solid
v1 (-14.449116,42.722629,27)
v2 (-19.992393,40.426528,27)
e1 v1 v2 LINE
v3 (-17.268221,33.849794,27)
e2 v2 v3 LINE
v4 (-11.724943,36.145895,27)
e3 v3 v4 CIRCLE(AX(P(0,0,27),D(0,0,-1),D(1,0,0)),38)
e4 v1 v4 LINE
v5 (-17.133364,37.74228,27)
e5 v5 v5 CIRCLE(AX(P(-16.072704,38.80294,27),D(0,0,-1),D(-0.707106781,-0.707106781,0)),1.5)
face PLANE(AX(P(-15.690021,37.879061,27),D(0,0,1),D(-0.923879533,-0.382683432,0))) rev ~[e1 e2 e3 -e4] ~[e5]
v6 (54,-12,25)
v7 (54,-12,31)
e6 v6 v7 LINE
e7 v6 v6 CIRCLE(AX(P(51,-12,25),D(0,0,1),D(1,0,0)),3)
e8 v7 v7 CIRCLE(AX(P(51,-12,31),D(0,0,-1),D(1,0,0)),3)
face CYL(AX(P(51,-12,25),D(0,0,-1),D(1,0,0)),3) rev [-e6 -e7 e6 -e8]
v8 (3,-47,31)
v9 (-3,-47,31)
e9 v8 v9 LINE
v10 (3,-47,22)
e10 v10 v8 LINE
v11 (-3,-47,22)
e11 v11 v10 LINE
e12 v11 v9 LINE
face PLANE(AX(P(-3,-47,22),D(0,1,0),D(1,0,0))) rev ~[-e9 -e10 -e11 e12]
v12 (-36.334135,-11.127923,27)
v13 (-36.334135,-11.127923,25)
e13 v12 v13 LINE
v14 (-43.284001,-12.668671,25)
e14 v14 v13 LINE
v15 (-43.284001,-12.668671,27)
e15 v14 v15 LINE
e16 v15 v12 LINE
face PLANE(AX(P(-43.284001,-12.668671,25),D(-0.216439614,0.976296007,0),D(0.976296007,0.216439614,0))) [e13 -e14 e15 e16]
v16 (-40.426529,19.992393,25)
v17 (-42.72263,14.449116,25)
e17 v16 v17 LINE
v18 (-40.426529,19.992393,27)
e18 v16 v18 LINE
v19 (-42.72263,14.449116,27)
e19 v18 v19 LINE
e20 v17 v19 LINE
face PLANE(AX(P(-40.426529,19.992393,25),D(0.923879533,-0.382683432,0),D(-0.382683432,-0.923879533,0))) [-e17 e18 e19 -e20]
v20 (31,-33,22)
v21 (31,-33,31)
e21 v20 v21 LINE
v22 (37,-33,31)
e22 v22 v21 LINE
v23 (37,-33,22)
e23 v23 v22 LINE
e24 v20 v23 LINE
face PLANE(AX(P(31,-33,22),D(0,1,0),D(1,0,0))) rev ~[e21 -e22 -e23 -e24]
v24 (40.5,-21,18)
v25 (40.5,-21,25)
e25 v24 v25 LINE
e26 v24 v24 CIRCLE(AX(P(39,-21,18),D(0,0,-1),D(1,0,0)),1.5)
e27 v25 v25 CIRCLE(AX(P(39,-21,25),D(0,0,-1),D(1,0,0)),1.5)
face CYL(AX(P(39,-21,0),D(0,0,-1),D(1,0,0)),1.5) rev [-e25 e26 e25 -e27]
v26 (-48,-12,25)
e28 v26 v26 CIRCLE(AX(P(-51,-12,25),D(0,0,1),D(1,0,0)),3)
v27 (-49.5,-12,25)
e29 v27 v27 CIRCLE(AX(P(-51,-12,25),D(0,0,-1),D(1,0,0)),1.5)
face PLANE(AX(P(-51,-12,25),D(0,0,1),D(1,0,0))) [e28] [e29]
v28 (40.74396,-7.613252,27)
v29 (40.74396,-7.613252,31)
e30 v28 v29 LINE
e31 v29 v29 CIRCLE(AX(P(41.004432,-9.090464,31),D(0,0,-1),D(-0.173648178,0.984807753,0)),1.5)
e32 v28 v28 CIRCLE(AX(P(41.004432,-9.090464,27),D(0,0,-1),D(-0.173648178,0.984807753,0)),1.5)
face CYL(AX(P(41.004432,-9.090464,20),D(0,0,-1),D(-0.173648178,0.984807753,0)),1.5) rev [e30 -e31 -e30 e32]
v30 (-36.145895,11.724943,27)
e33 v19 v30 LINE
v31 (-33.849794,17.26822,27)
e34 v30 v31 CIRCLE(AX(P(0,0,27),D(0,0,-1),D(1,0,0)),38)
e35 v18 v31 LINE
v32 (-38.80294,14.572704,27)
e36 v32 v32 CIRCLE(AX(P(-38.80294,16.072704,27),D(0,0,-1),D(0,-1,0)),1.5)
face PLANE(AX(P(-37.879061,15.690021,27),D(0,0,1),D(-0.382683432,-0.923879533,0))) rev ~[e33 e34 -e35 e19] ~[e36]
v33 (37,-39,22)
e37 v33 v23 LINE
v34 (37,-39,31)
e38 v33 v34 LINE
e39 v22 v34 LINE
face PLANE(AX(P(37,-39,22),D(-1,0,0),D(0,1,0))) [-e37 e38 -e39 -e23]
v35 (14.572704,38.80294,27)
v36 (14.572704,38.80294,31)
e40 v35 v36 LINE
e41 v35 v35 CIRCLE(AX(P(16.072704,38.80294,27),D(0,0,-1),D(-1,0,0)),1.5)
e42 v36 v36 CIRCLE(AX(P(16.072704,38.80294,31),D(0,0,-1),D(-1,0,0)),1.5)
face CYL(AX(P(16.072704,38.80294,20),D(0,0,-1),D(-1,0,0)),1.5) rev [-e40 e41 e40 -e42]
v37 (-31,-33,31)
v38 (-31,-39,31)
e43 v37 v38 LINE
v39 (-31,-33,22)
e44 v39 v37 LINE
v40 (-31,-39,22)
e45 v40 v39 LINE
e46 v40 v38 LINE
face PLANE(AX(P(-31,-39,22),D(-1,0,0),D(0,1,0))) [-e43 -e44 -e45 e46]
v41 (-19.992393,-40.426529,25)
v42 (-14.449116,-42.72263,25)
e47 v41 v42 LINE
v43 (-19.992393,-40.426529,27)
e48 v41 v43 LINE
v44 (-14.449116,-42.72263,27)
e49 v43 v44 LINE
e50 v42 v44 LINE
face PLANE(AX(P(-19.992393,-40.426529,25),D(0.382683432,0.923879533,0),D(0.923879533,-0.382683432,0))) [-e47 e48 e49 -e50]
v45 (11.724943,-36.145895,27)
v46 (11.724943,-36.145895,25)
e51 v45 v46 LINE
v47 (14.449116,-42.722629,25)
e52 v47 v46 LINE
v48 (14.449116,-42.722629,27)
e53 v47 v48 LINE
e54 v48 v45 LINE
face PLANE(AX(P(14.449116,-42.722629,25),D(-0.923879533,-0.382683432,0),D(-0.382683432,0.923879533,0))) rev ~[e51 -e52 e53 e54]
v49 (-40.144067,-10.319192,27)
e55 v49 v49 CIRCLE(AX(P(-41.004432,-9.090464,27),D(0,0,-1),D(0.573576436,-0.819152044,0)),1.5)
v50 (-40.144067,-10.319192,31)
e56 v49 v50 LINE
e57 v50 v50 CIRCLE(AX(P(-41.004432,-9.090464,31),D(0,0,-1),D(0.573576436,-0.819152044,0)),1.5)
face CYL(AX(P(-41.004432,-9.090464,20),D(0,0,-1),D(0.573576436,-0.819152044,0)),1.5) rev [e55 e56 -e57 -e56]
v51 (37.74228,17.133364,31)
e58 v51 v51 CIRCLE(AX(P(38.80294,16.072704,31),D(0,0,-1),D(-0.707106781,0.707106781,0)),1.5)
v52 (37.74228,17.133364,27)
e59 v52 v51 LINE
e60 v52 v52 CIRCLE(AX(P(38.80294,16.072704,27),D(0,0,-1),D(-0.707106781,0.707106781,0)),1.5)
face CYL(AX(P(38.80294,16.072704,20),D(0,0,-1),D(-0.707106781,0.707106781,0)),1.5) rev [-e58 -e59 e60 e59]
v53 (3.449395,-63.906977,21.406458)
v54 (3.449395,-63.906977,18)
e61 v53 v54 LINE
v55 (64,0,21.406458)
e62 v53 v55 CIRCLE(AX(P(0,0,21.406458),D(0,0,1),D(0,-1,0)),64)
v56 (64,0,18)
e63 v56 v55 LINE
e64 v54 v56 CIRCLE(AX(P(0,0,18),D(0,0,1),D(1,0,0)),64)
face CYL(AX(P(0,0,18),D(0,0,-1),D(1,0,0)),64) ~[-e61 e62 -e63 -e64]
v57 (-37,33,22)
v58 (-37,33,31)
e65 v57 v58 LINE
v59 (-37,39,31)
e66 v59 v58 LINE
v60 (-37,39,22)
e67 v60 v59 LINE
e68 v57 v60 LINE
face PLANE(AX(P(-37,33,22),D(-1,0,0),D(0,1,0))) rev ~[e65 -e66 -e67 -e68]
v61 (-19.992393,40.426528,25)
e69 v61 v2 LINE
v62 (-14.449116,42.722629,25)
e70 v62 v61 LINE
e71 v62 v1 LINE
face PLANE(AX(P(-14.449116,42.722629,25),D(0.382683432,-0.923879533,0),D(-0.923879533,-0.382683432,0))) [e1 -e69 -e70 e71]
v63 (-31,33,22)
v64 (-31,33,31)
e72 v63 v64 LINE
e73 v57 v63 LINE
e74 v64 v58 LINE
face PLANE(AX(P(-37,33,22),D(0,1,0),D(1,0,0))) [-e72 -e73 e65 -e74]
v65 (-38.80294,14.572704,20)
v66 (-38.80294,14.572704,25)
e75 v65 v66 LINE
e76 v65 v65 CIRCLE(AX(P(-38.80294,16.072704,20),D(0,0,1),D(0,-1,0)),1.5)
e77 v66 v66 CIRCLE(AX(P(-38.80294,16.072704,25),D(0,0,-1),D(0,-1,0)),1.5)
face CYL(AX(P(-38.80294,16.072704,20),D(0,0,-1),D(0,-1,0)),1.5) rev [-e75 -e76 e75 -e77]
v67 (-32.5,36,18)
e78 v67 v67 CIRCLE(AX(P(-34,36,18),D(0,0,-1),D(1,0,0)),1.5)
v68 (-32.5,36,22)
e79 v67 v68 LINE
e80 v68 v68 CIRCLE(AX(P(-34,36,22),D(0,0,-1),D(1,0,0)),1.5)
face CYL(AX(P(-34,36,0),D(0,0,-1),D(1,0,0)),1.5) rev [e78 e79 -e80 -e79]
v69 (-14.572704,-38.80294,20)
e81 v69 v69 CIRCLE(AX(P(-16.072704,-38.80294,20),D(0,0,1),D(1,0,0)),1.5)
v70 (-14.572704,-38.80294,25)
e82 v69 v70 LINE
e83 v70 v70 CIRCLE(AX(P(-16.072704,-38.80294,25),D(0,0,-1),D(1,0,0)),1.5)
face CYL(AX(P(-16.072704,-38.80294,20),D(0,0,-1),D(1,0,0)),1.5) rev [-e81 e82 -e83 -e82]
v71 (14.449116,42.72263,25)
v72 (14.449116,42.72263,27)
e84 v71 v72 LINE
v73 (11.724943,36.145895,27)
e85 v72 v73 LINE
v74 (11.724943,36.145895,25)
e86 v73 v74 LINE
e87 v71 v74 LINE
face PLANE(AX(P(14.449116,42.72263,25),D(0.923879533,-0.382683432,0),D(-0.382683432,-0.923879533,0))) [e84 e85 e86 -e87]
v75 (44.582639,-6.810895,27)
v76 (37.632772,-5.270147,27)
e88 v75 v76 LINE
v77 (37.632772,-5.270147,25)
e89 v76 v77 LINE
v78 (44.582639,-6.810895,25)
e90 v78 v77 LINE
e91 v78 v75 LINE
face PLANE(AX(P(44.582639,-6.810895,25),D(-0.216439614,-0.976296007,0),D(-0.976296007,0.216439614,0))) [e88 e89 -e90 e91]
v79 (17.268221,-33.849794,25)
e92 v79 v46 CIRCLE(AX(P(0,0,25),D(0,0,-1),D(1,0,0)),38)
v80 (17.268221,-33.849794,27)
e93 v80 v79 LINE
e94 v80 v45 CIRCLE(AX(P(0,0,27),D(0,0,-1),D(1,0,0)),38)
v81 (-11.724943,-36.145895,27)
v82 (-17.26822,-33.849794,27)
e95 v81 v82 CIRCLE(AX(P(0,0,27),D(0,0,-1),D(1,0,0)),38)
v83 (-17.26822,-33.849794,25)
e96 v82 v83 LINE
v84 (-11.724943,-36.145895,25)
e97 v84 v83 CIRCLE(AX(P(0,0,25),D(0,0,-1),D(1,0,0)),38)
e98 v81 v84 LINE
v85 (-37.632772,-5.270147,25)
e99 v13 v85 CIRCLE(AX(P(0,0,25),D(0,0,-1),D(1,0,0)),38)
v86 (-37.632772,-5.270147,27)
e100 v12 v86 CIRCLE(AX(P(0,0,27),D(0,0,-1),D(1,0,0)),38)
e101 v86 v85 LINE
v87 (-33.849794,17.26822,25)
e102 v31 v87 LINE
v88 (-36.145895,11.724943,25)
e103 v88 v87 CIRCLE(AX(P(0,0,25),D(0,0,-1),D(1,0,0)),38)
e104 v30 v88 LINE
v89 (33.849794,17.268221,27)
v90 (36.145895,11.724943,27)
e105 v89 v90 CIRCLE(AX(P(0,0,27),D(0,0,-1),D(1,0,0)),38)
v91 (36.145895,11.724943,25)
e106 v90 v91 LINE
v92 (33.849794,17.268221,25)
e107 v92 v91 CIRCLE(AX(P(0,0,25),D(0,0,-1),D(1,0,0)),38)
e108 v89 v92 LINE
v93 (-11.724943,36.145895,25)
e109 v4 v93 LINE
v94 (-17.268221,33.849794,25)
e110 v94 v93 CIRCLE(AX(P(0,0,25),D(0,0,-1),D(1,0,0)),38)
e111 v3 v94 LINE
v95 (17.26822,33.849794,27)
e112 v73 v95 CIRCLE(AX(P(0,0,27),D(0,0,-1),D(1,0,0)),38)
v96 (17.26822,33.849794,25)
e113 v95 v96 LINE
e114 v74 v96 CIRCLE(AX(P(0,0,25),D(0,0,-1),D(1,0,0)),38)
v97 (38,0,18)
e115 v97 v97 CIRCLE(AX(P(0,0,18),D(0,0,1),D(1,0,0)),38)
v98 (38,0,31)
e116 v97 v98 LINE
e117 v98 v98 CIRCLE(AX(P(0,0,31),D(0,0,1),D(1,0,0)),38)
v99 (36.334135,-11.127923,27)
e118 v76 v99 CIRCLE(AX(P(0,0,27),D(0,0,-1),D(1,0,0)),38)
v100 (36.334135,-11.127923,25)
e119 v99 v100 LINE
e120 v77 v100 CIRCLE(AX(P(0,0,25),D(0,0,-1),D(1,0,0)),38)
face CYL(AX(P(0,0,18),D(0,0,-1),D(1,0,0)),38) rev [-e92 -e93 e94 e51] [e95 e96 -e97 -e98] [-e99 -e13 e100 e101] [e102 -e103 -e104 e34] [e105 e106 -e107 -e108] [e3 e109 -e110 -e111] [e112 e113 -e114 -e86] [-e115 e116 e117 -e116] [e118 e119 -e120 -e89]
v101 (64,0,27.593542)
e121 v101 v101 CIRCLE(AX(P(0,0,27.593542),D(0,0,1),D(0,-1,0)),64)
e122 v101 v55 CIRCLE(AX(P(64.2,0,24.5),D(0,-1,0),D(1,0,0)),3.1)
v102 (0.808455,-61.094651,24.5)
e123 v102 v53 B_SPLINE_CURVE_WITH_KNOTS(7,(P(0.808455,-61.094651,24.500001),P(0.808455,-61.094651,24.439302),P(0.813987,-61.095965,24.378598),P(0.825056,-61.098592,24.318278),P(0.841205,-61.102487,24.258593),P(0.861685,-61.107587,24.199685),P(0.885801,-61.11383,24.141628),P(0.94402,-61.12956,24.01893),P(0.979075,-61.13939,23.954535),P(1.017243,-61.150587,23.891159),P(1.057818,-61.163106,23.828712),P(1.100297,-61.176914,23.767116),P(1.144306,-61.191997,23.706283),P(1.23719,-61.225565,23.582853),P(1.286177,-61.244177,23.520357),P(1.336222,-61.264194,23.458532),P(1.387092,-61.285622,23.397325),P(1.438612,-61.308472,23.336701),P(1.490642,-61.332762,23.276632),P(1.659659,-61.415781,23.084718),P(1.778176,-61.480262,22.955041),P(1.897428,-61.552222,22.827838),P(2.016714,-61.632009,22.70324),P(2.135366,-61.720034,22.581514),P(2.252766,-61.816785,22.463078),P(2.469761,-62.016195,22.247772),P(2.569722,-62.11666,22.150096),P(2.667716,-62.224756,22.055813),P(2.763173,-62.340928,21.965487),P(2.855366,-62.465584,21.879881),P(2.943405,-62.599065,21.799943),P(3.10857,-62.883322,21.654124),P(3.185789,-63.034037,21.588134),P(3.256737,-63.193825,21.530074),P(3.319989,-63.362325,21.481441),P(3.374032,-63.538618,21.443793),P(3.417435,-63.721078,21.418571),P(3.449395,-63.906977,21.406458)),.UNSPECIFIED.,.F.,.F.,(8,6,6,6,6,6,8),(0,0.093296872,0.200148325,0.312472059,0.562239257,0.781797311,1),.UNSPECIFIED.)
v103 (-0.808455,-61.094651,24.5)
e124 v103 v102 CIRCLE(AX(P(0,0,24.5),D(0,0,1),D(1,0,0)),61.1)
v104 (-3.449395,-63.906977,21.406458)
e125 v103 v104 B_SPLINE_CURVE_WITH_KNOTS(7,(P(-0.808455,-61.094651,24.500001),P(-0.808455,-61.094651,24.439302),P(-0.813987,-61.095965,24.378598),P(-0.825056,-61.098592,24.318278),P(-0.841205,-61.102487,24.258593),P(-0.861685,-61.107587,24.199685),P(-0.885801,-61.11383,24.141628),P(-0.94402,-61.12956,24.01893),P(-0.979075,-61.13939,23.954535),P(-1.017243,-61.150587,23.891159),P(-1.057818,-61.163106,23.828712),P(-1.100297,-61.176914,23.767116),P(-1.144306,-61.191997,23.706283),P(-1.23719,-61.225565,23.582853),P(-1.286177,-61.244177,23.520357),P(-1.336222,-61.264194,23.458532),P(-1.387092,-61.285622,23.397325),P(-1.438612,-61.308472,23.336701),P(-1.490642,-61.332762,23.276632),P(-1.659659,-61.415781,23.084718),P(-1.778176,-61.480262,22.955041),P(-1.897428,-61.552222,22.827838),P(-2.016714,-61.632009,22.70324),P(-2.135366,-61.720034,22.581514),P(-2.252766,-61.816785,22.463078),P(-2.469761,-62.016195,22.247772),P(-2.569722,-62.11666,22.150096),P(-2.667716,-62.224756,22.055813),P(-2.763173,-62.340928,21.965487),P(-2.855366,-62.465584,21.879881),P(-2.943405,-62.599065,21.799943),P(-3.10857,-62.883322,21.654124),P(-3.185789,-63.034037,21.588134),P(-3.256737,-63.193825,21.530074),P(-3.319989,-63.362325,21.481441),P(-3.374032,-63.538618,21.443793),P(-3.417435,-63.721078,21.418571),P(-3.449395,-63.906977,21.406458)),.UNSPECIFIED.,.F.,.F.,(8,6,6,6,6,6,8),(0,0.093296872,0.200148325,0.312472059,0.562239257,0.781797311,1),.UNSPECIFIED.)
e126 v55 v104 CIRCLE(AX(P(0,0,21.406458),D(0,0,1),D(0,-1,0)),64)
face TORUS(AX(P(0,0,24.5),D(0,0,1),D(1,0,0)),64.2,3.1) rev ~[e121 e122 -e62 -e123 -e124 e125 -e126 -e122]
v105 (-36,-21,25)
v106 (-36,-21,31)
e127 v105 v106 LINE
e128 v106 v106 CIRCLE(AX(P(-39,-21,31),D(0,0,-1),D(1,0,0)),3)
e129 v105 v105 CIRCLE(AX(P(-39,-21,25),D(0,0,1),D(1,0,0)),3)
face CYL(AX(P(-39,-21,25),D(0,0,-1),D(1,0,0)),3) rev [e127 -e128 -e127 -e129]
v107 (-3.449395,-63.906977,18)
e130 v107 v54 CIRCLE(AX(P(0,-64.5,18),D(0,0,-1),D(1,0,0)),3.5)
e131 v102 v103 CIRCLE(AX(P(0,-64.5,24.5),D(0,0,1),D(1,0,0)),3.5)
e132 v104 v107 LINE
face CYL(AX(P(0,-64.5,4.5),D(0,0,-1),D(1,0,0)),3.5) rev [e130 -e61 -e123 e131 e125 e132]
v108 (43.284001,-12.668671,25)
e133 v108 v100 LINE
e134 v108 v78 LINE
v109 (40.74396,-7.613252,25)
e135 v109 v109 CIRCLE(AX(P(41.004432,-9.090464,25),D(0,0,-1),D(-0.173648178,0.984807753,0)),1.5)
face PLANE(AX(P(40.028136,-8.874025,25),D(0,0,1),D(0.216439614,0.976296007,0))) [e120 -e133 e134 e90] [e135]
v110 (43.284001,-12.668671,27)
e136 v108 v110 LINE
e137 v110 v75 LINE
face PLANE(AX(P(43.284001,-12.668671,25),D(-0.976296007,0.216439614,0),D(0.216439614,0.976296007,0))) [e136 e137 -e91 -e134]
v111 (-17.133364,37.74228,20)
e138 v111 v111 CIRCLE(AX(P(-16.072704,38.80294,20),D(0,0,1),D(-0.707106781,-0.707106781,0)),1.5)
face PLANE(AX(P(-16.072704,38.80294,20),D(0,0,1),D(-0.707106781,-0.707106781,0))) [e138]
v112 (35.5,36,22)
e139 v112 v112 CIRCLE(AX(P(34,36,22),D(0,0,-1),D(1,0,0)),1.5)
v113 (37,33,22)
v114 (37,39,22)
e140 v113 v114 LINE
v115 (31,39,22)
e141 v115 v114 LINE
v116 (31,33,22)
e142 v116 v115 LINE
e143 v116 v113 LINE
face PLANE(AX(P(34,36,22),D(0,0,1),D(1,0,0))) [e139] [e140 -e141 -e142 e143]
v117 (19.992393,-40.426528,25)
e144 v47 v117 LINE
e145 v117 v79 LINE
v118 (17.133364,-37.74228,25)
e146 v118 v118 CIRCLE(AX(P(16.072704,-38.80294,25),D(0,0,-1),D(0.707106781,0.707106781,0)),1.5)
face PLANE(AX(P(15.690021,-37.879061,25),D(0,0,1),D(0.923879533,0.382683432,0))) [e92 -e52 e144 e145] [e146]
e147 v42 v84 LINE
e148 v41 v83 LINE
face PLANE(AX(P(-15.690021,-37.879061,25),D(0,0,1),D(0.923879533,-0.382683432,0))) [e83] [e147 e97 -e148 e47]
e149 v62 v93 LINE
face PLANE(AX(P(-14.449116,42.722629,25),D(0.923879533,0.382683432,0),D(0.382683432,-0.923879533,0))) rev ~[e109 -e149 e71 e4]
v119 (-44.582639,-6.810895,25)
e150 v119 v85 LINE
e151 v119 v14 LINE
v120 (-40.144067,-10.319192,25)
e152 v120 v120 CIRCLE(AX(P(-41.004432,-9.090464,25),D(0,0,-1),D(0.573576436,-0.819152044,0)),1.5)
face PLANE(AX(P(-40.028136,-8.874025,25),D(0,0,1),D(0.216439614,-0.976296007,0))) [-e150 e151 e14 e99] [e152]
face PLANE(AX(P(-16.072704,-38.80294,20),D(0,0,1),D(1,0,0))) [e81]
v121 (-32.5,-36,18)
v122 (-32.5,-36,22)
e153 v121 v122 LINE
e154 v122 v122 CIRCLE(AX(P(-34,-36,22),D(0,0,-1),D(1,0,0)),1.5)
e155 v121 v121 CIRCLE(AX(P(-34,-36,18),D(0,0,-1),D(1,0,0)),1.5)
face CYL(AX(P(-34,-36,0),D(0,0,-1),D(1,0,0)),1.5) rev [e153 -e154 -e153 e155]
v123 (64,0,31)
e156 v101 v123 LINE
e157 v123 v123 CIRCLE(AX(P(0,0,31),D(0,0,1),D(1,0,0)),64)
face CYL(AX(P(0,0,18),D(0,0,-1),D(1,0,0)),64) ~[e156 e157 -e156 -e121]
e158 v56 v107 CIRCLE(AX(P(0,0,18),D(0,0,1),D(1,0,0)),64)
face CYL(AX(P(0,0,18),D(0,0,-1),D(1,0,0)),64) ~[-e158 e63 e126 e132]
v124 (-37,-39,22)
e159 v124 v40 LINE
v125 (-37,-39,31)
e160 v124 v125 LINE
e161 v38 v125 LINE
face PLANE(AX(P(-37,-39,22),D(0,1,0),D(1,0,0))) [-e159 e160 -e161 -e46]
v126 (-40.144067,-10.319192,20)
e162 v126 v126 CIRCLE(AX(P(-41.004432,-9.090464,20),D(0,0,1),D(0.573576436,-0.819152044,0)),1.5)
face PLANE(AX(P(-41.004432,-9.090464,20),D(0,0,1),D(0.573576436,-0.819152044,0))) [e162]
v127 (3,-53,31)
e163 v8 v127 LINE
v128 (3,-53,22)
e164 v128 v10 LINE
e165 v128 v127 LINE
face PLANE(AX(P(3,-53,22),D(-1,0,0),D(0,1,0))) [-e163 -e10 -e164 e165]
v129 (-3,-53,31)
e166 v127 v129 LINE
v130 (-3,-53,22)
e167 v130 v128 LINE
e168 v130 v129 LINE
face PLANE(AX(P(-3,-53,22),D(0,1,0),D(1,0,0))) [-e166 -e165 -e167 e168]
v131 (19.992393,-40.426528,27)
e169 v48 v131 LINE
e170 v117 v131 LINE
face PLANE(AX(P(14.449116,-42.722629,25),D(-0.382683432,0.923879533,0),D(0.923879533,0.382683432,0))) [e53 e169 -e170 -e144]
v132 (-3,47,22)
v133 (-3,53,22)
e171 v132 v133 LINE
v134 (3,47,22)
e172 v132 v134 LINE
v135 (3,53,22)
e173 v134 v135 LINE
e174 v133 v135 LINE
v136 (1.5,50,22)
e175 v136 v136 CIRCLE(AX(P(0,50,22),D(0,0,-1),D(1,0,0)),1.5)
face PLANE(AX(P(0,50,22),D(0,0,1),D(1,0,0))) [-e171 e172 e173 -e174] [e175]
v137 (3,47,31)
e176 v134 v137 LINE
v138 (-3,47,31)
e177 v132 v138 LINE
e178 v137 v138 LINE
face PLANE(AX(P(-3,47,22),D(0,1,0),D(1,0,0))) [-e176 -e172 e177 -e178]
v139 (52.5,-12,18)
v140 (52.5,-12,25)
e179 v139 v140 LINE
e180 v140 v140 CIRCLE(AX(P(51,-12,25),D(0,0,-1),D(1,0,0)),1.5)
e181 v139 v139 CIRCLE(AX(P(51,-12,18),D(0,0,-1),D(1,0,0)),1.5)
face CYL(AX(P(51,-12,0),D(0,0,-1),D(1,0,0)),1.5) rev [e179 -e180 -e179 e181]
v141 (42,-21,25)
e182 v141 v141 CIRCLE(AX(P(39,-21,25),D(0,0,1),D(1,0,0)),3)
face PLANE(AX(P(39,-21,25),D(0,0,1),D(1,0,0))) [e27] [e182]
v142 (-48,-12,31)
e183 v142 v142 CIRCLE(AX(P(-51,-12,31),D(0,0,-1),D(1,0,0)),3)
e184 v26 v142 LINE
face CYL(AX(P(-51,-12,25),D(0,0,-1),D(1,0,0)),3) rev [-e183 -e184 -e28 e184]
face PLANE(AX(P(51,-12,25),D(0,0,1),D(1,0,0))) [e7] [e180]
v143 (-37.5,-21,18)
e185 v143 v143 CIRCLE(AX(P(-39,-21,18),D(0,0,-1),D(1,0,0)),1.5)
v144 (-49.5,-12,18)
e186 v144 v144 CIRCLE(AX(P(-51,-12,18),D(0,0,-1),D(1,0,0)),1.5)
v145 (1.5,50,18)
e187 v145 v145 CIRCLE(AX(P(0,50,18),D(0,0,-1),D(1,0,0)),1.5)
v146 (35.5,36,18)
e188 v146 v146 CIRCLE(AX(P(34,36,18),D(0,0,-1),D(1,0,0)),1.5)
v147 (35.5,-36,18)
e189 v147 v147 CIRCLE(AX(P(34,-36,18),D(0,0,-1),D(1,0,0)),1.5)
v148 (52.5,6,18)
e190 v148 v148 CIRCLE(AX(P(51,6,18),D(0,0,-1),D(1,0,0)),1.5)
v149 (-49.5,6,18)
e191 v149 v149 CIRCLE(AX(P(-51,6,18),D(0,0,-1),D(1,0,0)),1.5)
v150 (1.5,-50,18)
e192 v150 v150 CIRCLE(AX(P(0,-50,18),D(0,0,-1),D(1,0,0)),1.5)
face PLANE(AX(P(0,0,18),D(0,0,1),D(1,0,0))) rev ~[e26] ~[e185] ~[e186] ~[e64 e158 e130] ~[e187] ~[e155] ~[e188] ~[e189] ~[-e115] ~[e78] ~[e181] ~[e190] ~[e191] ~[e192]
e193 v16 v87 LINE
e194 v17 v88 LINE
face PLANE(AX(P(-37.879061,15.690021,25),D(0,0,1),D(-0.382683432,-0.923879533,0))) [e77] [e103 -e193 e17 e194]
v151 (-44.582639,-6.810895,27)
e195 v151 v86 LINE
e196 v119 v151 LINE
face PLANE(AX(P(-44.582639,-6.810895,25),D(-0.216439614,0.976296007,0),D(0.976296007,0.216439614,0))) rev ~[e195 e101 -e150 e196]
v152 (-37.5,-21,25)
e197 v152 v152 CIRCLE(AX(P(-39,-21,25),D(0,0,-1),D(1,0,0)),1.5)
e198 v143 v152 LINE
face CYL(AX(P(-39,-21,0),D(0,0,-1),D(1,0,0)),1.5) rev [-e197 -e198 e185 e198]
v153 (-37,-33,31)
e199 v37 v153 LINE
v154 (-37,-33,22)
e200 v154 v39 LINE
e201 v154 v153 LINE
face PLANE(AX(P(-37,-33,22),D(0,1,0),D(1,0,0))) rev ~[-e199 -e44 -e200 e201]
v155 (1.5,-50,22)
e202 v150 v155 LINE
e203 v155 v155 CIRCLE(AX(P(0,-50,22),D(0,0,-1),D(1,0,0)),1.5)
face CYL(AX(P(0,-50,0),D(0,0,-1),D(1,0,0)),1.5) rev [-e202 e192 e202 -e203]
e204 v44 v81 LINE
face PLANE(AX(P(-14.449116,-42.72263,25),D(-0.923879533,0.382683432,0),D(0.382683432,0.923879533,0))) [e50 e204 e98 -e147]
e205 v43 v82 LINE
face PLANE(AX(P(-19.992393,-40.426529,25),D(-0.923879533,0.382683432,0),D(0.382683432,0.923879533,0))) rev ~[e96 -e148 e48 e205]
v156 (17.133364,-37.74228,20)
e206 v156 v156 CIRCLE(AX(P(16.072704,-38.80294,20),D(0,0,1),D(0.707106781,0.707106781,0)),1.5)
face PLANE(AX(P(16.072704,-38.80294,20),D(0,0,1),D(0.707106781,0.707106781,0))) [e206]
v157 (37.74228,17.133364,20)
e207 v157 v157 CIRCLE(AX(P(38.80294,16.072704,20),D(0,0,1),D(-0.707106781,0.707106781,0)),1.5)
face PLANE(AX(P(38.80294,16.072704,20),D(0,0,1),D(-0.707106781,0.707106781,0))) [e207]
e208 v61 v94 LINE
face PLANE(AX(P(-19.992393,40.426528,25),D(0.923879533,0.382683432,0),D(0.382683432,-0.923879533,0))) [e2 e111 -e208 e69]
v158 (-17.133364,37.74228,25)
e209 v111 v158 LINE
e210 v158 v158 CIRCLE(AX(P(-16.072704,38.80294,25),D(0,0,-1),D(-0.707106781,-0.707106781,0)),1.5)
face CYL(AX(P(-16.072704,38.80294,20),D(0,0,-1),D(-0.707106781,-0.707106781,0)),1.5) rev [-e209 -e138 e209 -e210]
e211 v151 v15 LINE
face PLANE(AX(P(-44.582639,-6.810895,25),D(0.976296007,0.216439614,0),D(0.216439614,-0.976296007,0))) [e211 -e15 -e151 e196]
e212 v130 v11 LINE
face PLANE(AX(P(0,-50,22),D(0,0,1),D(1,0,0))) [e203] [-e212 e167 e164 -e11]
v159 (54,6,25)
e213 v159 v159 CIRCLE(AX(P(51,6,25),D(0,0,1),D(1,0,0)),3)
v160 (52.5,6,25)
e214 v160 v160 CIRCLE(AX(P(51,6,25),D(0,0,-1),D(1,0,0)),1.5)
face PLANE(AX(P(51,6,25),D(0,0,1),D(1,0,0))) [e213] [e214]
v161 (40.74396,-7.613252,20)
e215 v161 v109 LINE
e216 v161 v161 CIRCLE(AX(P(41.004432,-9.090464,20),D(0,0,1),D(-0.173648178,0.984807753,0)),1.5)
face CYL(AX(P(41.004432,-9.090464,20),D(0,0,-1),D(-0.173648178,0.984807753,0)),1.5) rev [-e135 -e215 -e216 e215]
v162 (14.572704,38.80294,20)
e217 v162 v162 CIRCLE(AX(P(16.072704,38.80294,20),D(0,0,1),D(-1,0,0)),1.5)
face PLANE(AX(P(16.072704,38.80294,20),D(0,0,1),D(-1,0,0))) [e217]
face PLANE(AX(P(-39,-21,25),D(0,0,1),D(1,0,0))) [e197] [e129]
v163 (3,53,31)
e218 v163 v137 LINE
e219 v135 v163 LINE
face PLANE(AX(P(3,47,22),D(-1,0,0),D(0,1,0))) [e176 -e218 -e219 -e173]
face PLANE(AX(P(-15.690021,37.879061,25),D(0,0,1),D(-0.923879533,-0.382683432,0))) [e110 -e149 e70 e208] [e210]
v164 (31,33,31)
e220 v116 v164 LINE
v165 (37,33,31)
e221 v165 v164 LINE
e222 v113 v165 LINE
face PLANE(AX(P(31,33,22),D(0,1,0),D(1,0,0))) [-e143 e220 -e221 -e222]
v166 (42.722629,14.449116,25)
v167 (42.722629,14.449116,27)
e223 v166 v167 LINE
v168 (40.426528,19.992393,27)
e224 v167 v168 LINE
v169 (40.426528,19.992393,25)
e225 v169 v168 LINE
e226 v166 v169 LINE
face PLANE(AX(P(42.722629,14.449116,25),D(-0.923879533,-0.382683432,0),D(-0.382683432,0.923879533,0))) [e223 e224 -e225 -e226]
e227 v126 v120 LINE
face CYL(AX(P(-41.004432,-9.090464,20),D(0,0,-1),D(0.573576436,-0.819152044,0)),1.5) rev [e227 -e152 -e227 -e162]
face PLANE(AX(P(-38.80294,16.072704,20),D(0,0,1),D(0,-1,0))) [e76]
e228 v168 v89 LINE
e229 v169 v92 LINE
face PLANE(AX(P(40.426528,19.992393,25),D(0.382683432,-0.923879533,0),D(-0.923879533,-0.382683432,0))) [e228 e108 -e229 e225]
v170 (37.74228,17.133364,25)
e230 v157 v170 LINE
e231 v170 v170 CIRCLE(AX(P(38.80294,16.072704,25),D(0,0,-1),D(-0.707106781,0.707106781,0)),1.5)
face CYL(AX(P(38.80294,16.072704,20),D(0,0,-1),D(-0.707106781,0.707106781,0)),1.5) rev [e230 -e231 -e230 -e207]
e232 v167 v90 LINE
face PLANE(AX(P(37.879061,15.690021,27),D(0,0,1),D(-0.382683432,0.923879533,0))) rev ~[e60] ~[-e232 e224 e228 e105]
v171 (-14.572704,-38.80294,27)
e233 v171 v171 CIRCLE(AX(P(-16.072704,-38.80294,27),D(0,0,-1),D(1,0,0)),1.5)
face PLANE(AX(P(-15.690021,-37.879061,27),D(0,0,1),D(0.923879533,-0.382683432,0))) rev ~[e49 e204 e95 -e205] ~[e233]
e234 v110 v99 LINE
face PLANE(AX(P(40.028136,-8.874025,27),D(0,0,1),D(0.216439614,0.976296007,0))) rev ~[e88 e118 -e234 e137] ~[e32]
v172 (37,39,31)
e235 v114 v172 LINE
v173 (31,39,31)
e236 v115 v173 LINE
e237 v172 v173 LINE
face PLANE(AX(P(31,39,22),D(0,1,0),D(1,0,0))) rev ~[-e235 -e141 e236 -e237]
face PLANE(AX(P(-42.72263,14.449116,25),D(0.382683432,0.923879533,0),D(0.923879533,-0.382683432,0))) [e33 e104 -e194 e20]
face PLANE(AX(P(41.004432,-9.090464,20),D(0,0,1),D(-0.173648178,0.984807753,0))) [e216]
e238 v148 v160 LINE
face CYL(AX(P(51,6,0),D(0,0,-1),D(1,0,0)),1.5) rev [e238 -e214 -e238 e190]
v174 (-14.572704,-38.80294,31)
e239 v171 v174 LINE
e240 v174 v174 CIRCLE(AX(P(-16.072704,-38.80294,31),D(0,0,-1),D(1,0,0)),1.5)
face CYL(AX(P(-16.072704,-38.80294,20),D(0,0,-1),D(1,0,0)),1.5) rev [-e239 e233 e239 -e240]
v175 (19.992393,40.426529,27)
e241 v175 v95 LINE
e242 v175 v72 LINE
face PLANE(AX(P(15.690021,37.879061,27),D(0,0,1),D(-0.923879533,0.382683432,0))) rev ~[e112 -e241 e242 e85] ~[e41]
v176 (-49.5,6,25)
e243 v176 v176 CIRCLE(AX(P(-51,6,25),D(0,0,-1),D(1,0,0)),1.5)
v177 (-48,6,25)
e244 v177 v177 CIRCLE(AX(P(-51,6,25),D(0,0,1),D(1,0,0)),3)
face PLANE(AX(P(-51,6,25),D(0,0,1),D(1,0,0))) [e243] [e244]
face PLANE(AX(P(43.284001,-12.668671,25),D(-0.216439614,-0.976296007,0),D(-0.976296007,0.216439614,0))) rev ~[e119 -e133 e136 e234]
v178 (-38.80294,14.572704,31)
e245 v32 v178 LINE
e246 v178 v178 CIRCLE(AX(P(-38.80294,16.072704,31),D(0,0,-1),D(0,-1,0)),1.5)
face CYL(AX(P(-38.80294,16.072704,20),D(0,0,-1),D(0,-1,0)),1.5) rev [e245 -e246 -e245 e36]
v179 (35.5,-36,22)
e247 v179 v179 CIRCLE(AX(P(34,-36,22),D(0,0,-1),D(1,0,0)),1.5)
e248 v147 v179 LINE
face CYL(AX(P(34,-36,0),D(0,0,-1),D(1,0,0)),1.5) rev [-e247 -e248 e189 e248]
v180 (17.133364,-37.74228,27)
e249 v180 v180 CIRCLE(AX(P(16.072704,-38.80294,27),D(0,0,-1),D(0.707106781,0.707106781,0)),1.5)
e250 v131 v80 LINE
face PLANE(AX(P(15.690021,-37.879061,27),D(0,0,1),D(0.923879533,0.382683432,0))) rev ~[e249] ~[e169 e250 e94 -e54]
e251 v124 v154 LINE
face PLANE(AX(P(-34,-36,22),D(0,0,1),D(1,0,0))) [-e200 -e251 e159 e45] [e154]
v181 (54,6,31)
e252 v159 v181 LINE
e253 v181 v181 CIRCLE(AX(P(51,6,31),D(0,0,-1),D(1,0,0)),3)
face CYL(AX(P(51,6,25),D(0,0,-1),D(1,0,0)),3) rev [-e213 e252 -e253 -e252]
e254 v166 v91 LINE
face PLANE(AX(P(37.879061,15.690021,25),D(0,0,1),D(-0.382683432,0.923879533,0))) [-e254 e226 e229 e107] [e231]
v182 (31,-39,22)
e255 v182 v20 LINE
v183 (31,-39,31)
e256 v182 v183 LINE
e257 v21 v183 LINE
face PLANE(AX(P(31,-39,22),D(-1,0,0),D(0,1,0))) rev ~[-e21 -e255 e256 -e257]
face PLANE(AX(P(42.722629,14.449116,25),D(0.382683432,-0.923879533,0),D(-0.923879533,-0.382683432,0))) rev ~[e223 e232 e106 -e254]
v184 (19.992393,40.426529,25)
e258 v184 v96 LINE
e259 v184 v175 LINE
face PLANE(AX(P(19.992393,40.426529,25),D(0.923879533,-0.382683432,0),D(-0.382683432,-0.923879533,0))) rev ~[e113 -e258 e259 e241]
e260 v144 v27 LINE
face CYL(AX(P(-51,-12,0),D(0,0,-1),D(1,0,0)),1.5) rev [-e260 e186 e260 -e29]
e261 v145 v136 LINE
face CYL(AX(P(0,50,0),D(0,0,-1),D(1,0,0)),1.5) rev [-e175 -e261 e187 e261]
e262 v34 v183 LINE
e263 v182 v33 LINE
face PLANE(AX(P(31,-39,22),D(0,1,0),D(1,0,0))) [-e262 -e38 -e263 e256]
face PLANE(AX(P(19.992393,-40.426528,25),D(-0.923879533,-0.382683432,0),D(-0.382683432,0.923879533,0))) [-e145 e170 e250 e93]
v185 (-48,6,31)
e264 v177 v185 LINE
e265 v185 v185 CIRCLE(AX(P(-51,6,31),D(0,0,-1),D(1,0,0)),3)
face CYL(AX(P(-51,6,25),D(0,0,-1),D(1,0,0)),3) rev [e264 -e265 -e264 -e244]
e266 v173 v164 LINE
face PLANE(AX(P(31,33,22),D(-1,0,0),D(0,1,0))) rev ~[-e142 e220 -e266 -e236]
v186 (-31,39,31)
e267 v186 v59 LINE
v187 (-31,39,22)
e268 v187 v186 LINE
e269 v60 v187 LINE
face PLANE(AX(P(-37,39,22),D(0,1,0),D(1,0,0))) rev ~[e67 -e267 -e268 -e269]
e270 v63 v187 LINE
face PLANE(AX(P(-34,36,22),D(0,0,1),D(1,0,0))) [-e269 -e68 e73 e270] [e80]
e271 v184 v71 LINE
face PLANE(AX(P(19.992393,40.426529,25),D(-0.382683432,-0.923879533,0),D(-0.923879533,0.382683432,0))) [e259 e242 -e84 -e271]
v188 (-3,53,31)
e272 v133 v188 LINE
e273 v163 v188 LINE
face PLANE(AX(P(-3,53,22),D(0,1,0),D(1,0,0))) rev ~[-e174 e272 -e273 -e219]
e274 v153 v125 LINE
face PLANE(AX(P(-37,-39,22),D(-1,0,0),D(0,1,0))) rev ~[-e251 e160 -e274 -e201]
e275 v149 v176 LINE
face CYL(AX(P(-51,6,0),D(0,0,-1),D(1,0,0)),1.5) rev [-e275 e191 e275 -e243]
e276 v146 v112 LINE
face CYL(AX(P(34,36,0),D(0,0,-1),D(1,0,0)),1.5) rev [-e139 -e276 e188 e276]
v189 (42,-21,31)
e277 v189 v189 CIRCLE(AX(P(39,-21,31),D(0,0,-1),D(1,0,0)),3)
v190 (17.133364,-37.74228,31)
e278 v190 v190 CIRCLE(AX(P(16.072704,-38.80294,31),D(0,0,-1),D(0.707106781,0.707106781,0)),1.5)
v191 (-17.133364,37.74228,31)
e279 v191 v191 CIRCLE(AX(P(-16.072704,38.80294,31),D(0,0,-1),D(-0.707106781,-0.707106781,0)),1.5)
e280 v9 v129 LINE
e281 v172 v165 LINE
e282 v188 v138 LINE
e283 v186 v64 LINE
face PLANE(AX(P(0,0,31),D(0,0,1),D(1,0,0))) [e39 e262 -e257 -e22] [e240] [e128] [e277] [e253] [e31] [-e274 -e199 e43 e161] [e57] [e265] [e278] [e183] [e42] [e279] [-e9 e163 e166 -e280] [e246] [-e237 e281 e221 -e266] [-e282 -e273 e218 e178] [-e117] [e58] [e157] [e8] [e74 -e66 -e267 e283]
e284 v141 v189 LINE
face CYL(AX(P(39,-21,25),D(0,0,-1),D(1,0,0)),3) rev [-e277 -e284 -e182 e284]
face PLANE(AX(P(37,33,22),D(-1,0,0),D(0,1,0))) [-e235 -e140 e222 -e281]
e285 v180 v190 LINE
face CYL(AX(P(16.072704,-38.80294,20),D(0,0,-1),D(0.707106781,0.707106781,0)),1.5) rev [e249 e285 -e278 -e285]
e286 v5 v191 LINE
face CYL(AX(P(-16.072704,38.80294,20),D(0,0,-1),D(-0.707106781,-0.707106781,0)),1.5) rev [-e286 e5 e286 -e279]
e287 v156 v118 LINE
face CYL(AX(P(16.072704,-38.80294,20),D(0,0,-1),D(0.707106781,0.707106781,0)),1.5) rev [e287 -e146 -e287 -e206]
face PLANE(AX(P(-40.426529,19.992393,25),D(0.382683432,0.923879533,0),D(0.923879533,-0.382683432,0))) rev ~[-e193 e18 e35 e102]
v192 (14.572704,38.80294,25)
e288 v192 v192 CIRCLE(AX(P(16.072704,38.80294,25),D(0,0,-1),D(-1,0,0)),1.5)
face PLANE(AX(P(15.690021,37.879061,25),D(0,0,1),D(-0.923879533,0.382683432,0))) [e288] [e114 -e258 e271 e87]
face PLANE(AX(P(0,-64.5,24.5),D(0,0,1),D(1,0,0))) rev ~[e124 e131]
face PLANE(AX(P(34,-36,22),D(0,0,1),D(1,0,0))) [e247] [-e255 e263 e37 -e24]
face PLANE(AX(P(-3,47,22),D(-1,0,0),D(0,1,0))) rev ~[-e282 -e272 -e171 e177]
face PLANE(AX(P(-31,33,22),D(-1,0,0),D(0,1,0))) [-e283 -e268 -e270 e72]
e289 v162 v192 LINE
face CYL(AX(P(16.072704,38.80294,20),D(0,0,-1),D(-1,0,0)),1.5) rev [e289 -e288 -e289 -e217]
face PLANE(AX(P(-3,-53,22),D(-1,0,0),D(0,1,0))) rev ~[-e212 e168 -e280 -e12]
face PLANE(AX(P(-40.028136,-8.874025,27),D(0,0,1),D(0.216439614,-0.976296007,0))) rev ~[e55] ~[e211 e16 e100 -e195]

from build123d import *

# Parameters (mm, degrees)
CYLINDER529_R               = 1.5
CYLINDER529_DEPTH           = 100
CYLINDER528_R               = 1.5
CYLINDER528_DEPTH           = 100
CYLINDER533_R               = 3
CYLINDER533_DEPTH           = 7
CYLINDER532_R               = 3
CYLINDER532_DEPTH           = 7
BOX158_W                    = 6
BOX158_H                    = 8
BOX158_DEPTH                = 2
BOX158_PLACEMENT_ANGLE      = 77.5
BOX159_W                    = 6
BOX159_H                    = 8
BOX159_DEPTH                = 2
BOX159_PLACEMENT_ANGLE      = 112.5
BOX160_W                    = 6
BOX160_H                    = 8
BOX160_DEPTH                = 2
BOX160_PLACEMENT_ANGLE      = 157.5
BOX161_W                    = 6
BOX161_H                    = 8
BOX161_DEPTH                = 2
BOX161_PLACEMENT_ANGLE      = 202.5
BOX162_W                    = 6
BOX162_H                    = 8
BOX162_DEPTH                = 2
BOX162_PLACEMENT_ANGLE      = 112.5
BOX163_W                    = 6
BOX163_H                    = 8
BOX163_DEPTH                = 2
BOX163_PLACEMENT_ANGLE      = 77.5
BOX164_W                    = 6
BOX164_H                    = 8
BOX164_DEPTH                = 2
BOX164_PLACEMENT_ANGLE      = 22.5
BOX157_W                    = 6
BOX157_H                    = 8
BOX157_DEPTH                = 2
BOX157_PLACEMENT_ANGLE      = 22.5
CYLINDER737_R               = 1.5
CYLINDER737_DEPTH           = 100
CYLINDER737_PLACEMENT_ANGLE = 100
CYLINDER734_R               = 1.5
CYLINDER734_DEPTH           = 100
CYLINDER734_PLACEMENT_ANGLE = 135
CYLINDER728_R               = 1.5
CYLINDER728_DEPTH           = 100
CYLINDER735_R               = 1.5
CYLINDER735_DEPTH           = 100
CYLINDER735_PLACEMENT_ANGLE = 225
CYLINDER723_R               = 1.5
CYLINDER723_DEPTH           = 100
CYLINDER726_R               = 1.5
CYLINDER726_DEPTH           = 100
CYLINDER726_PLACEMENT_ANGLE = 55
CYLINDER736_R               = 1.5
CYLINDER736_DEPTH           = 100
CYLINDER724_R               = 1.5
CYLINDER724_DEPTH           = 100
CYLINDER724_PLACEMENT_ANGLE = 45
BOX147_W                    = 6
BOX147_H                    = 6
BOX147_DEPTH                = 10
BOX146_W                    = 6
BOX146_H                    = 6
BOX146_DEPTH                = 10
BOX148_W                    = 6
BOX148_H                    = 6
BOX148_DEPTH                = 10
BOX149_W                    = 6
BOX149_H                    = 6
BOX149_DEPTH                = 10
BOX150_W                    = 6
BOX150_H                    = 6
BOX150_DEPTH                = 10
BOX145_W                    = 6
BOX145_H                    = 6
BOX145_DEPTH                = 10
CYLINDER411_R               = 3
CYLINDER411_DEPTH           = 7
CYLINDER409_R               = 3
CYLINDER409_DEPTH           = 7
CYLINDER410_R               = 3
CYLINDER410_DEPTH           = 7
CYLINDER408_R               = 3
CYLINDER408_DEPTH           = 7
CYLINDER371_R               = 1.5
CYLINDER371_DEPTH           = 50
CYLINDER372_R               = 1.5
CYLINDER372_DEPTH           = 50
CYLINDER373_R               = 1.5
CYLINDER373_DEPTH           = 50
CYLINDER374_R               = 1.5
CYLINDER374_DEPTH           = 50
CYLINDER375_R               = 1.5
CYLINDER375_DEPTH           = 50
CYLINDER376_R               = 1.5
CYLINDER376_DEPTH           = 100
CYLINDER377_R               = 1.5
CYLINDER377_DEPTH           = 50
CYLINDER378_R               = 1.5
CYLINDER378_DEPTH           = 50
CYLINDER379_R               = 1.5
CYLINDER379_DEPTH           = 100
CYLINDER370_R               = 1.5
CYLINDER370_DEPTH           = 50
CYLINDER288_R               = 3.5
CYLINDER288_DEPTH           = 20
TORUS_R                     = 3.1
TUBE019_R                   = 64
TUBE019_R_2                 = 38
TUBE019_DEPTH               = 13


with BuildPart() as v_lec529:
    # Cylinder529 → Cylinder529 (new body)
    with BuildSketch(Plane(origin=(39, -21, 0), x_dir=(1, 0, 0), z_dir=(0, 0, 1))):
        Circle(CYLINDER529_R)
    extrude(amount=CYLINDER529_DEPTH)


with BuildPart() as compound704:
    # Cylinder528 → Cylinder528 (new body)
    with BuildSketch(Plane(origin=(-39, -21, 0), x_dir=(1, 0, 0), z_dir=(0, 0, 1))):
        Circle(CYLINDER528_R)
    extrude(amount=CYLINDER528_DEPTH)

    # Compound704: union Válec529
    add(v_lec529.part)


with BuildPart() as v_lec533:
    # Cylinder533 → Cylinder533 (new body)
    with BuildSketch(Plane(origin=(39, -21, 50), x_dir=(1, 0, 0), z_dir=(0, 0, 1))):
        Circle(CYLINDER533_R)
    extrude(amount=CYLINDER533_DEPTH)


with BuildPart() as compound706:
    # Cylinder532 → Cylinder532 (new body)
    with BuildSketch(Plane(origin=(-39, -21, 50), x_dir=(1, 0, 0), z_dir=(0, 0, 1))):
        Circle(CYLINDER532_R)
    extrude(amount=CYLINDER532_DEPTH)

    # Compound706: union Válec533
    add(v_lec533.part)


with BuildPart() as compound706_1:
    # Compound706 placement: moved
    add(compound706.part.moved(Location((0, 0, -25))))


with BuildPart() as krychle158:
    # Box158 → Box158 (new body)
    with BuildSketch(Plane.XY):
        with Locations((3, 4)):
            Rectangle(BOX158_W, BOX158_H)
    extrude(amount=BOX158_DEPTH)


with BuildPart() as krychle158_1:
    # Box158 placement: moved
    add(krychle158.part.moved(Location((43.284001, -12.668671, 25))).rotate(Axis((43.284001, -12.668671, 25), (0, 0, 1)), BOX158_PLACEMENT_ANGLE))


with BuildPart() as krychle159:
    # Box159 → Box159 (new body)
    with BuildSketch(Plane.XY):
        with Locations((3, 4)):
            Rectangle(BOX159_W, BOX159_H)
    extrude(amount=BOX159_DEPTH)


with BuildPart() as krychle159_1:
    # Box159 placement: moved
    add(krychle159.part.moved(Location((42.722629, 14.449116, 25))).rotate(Axis((42.722629, 14.449116, 25), (0, 0, 1)), BOX159_PLACEMENT_ANGLE))


with BuildPart() as krychle160:
    # Box160 → Box160 (new body)
    with BuildSketch(Plane.XY):
        with Locations((3, 4)):
            Rectangle(BOX160_W, BOX160_H)
    extrude(amount=BOX160_DEPTH)


with BuildPart() as krychle160_1:
    # Box160 placement: moved
    add(krychle160.part.moved(Location((19.992393, 40.426529, 25))).rotate(Axis((19.992393, 40.426529, 25), (0, 0, 1)), BOX160_PLACEMENT_ANGLE))


with BuildPart() as krychle161:
    # Box161 → Box161 (new body)
    with BuildSketch(Plane.XY):
        with Locations((3, 4)):
            Rectangle(BOX161_W, BOX161_H)
    extrude(amount=BOX161_DEPTH)


with BuildPart() as krychle161_1:
    # Box161 placement: moved
    add(krychle161.part.moved(Location((-14.449116, 42.722629, 25))).rotate(Axis((-14.449116, 42.722629, 25), (0, 0, 1)), BOX161_PLACEMENT_ANGLE))


with BuildPart() as krychle162:
    # Box162 → Box162 (new body)
    with BuildSketch(Plane.XY):
        with Locations((3, 4)):
            Rectangle(BOX162_W, BOX162_H)
    extrude(amount=BOX162_DEPTH)


with BuildPart() as krychle162_1:
    # Box162 placement: moved
    add(krychle162.part.moved(Location((-40.426529, 19.992393, 25))).rotate(Axis((-40.426529, 19.992393, 25), (0, 0, -1)), BOX162_PLACEMENT_ANGLE))


with BuildPart() as krychle163:
    # Box163 → Box163 (new body)
    with BuildSketch(Plane.XY):
        with Locations((3, 4)):
            Rectangle(BOX163_W, BOX163_H)
    extrude(amount=BOX163_DEPTH)


with BuildPart() as krychle163_1:
    # Box163 placement: moved
    add(krychle163.part.moved(Location((-44.582639, -6.810895, 25))).rotate(Axis((-44.582639, -6.810895, 25), (0, 0, -1)), BOX163_PLACEMENT_ANGLE))


with BuildPart() as krychle164:
    # Box164 → Box164 (new body)
    with BuildSketch(Plane.XY):
        with Locations((3, 4)):
            Rectangle(BOX164_W, BOX164_H)
    extrude(amount=BOX164_DEPTH)


with BuildPart() as krychle164_1:
    # Box164 placement: moved
    add(krychle164.part.moved(Location((-19.992393, -40.426529, 25))).rotate(Axis((-19.992393, -40.426529, 25), (0, 0, -1)), BOX164_PLACEMENT_ANGLE))


with BuildPart() as compound322:
    # Box157 → Box157 (new body)
    with BuildSketch(Plane.XY):
        with Locations((3, 4)):
            Rectangle(BOX157_W, BOX157_H)
    extrude(amount=BOX157_DEPTH)


with BuildPart() as compound322_1:
    # Box157 placement: moved
    add(compound322.part.moved(Location((14.449116, -42.722629, 25))).rotate(Axis((14.449116, -42.722629, 25), (0, 0, 1)), BOX157_PLACEMENT_ANGLE))

    # Compound322: union Krychle158, Krychle159, Krychle160, Krychle161, Krychle162, Krychle163, Krychle164
    add(krychle158_1.part)
    add(krychle159_1.part)
    add(krychle160_1.part)
    add(krychle161_1.part)
    add(krychle162_1.part)
    add(krychle163_1.part)
    add(krychle164_1.part)


with BuildPart() as v_lec737:
    # Cylinder737 → Cylinder737 (new body)
    with BuildSketch(Plane.XY):
        Circle(CYLINDER737_R)
    extrude(amount=CYLINDER737_DEPTH)


with BuildPart() as v_lec737_1:
    # Cylinder737 placement: moved
    add(v_lec737.part.moved(Location((41.004432, -9.090464, 0))).rotate(Axis((41.004432, -9.090464, 0), (0, 0, 1)), CYLINDER737_PLACEMENT_ANGLE))


with BuildPart() as v_lec734:
    # Cylinder734 → Cylinder734 (new body)
    with BuildSketch(Plane.XY):
        Circle(CYLINDER734_R)
    extrude(amount=CYLINDER734_DEPTH)


with BuildPart() as v_lec734_1:
    # Cylinder734 placement: moved
    add(v_lec734.part.moved(Location((38.80294, 16.072704, 0))).rotate(Axis((38.80294, 16.072704, 0), (0, 0, 1)), CYLINDER734_PLACEMENT_ANGLE))


with BuildPart() as v_lec728:
    # Cylinder728 → Cylinder728 (new body)
    with BuildSketch(Plane(origin=(16.072704, 38.80294, 0), x_dir=(-1, 0, 0), z_dir=(0, 0, 1))):
        Circle(CYLINDER728_R)
    extrude(amount=CYLINDER728_DEPTH)


with BuildPart() as v_lec735:
    # Cylinder735 → Cylinder735 (new body)
    with BuildSketch(Plane.XY):
        Circle(CYLINDER735_R)
    extrude(amount=CYLINDER735_DEPTH)


with BuildPart() as v_lec735_1:
    # Cylinder735 placement: moved
    add(v_lec735.part.moved(Location((-16.072704, 38.80294, 0))).rotate(Axis((-16.072704, 38.80294, 0), (0, 0, 1)), CYLINDER735_PLACEMENT_ANGLE))


with BuildPart() as v_lec723:
    # Cylinder723 → Cylinder723 (new body)
    with BuildSketch(Plane(origin=(-38.80294, 16.072704, 0), x_dir=(0, -1, 0), z_dir=(0, 0, 1))):
        Circle(CYLINDER723_R)
    extrude(amount=CYLINDER723_DEPTH)


with BuildPart() as v_lec726:
    # Cylinder726 → Cylinder726 (new body)
    with BuildSketch(Plane.XY):
        Circle(CYLINDER726_R)
    extrude(amount=CYLINDER726_DEPTH)


with BuildPart() as v_lec726_1:
    # Cylinder726 placement: moved
    add(v_lec726.part.moved(Location((-41.004432, -9.090464, 0))).rotate(Axis((-41.004432, -9.090464, 0), (0, 0, -1)), CYLINDER726_PLACEMENT_ANGLE))


with BuildPart() as v_lec736:
    # Cylinder736 → Cylinder736 (new body)
    with BuildSketch(Plane(origin=(-16.072704, -38.80294, 0), x_dir=(1, 0, 0), z_dir=(0, 0, 1))):
        Circle(CYLINDER736_R)
    extrude(amount=CYLINDER736_DEPTH)


with BuildPart() as compound328:
    # Cylinder724 → Cylinder724 (new body)
    with BuildSketch(Plane.XY):
        Circle(CYLINDER724_R)
    extrude(amount=CYLINDER724_DEPTH)


with BuildPart() as compound328_1:
    # Cylinder724 placement: moved
    add(compound328.part.moved(Location((16.072704, -38.80294, 0))).rotate(Axis((16.072704, -38.80294, 0), (0, 0, 1)), CYLINDER724_PLACEMENT_ANGLE))

    # Compound328: union Válec737, Válec734, Válec728, Válec735, Válec723, Válec726, Válec736
    add(v_lec737_1.part)
    add(v_lec734_1.part)
    add(v_lec728.part)
    add(v_lec735_1.part)
    add(v_lec723.part)
    add(v_lec726_1.part)
    add(v_lec736.part)


with BuildPart() as compound328_2:
    # Compound328 placement: moved
    add(compound328_1.part.moved(Location((0, 0, 20))))


with BuildPart() as krychle147:
    # Box147 → Box147 (new body)
    with BuildSketch(Plane(origin=(-37, -39, 40), x_dir=(1, 0, 0), z_dir=(0, 0, 1))):
        with Locations((3, 3)):
            Rectangle(BOX147_W, BOX147_H)
    extrude(amount=BOX147_DEPTH)


with BuildPart() as krychle146:
    # Box146 → Box146 (new body)
    with BuildSketch(Plane(origin=(-3, -53, 40), x_dir=(1, 0, 0), z_dir=(0, 0, 1))):
        with Locations((3, 3)):
            Rectangle(BOX146_W, BOX146_H)
    extrude(amount=BOX146_DEPTH)


with BuildPart() as krychle148:
    # Box148 → Box148 (new body)
    with BuildSketch(Plane(origin=(31, 33, 40), x_dir=(1, 0, 0), z_dir=(0, 0, 1))):
        with Locations((3, 3)):
            Rectangle(BOX148_W, BOX148_H)
    extrude(amount=BOX148_DEPTH)


with BuildPart() as krychle149:
    # Box149 → Box149 (new body)
    with BuildSketch(Plane(origin=(-37, 33, 40), x_dir=(1, 0, 0), z_dir=(0, 0, 1))):
        with Locations((3, 3)):
            Rectangle(BOX149_W, BOX149_H)
    extrude(amount=BOX149_DEPTH)


with BuildPart() as krychle150:
    # Box150 → Box150 (new body)
    with BuildSketch(Plane(origin=(31, -39, 40), x_dir=(1, 0, 0), z_dir=(0, 0, 1))):
        with Locations((3, 3)):
            Rectangle(BOX150_W, BOX150_H)
    extrude(amount=BOX150_DEPTH)


with BuildPart() as compound315:
    # Box145 → Box145 (new body)
    with BuildSketch(Plane(origin=(-3, 47, 40), x_dir=(1, 0, 0), z_dir=(0, 0, 1))):
        with Locations((3, 3)):
            Rectangle(BOX145_W, BOX145_H)
    extrude(amount=BOX145_DEPTH)

    # Compound315: union Krychle147, Krychle146, Krychle148, Krychle149, Krychle150
    add(krychle147.part)
    add(krychle146.part)
    add(krychle148.part)
    add(krychle149.part)
    add(krychle150.part)


with BuildPart() as compound315_1:
    # Compound315 placement: moved
    add(compound315.part.moved(Location((0, 0, -18))))


with BuildPart() as v_lec411:
    # Cylinder411 → Cylinder411 (new body)
    with BuildSketch(Plane(origin=(51, -12, 50), x_dir=(1, 0, 0), z_dir=(0, 0, 1))):
        Circle(CYLINDER411_R)
    extrude(amount=CYLINDER411_DEPTH)


with BuildPart() as v_lec409:
    # Cylinder409 → Cylinder409 (new body)
    with BuildSketch(Plane(origin=(51, 6, 50), x_dir=(1, 0, 0), z_dir=(0, 0, 1))):
        Circle(CYLINDER409_R)
    extrude(amount=CYLINDER409_DEPTH)


with BuildPart() as v_lec410:
    # Cylinder410 → Cylinder410 (new body)
    with BuildSketch(Plane(origin=(-51, 6, 50), x_dir=(1, 0, 0), z_dir=(0, 0, 1))):
        Circle(CYLINDER410_R)
    extrude(amount=CYLINDER410_DEPTH)


with BuildPart() as compound313:
    # Cylinder408 → Cylinder408 (new body)
    with BuildSketch(Plane(origin=(-51, -12, 50), x_dir=(1, 0, 0), z_dir=(0, 0, 1))):
        Circle(CYLINDER408_R)
    extrude(amount=CYLINDER408_DEPTH)

    # Compound313: union Válec411, Válec409, Válec410
    add(v_lec411.part)
    add(v_lec409.part)
    add(v_lec410.part)


with BuildPart() as compound313_1:
    # Compound313 placement: moved
    add(compound313.part.moved(Location((0, 0, -25))))


with BuildPart() as v_lec371:
    # Cylinder371 → Cylinder371 (new body)
    with BuildSketch(Plane(origin=(34, 36, 0), x_dir=(1, 0, 0), z_dir=(0, 0, 1))):
        Circle(CYLINDER371_R)
    extrude(amount=CYLINDER371_DEPTH)


with BuildPart() as v_lec372:
    # Cylinder372 → Cylinder372 (new body)
    with BuildSketch(Plane(origin=(-34, -36, 0), x_dir=(1, 0, 0), z_dir=(0, 0, 1))):
        Circle(CYLINDER372_R)
    extrude(amount=CYLINDER372_DEPTH)


with BuildPart() as v_lec373:
    # Cylinder373 → Cylinder373 (new body)
    with BuildSketch(Plane(origin=(34, -36, 0), x_dir=(1, 0, 0), z_dir=(0, 0, 1))):
        Circle(CYLINDER373_R)
    extrude(amount=CYLINDER373_DEPTH)


with BuildPart() as v_lec374:
    # Cylinder374 → Cylinder374 (new body)
    with BuildSketch(Plane(origin=(0, 50, 0), x_dir=(1, 0, 0), z_dir=(0, 0, 1))):
        Circle(CYLINDER374_R)
    extrude(amount=CYLINDER374_DEPTH)


with BuildPart() as v_lec375:
    # Cylinder375 → Cylinder375 (new body)
    with BuildSketch(Plane(origin=(0, -50, 0), x_dir=(1, 0, 0), z_dir=(0, 0, 1))):
        Circle(CYLINDER375_R)
    extrude(amount=CYLINDER375_DEPTH)


with BuildPart() as v_lec376:
    # Cylinder376 → Cylinder376 (new body)
    with BuildSketch(Plane(origin=(-51, -12, 0), x_dir=(1, 0, 0), z_dir=(0, 0, 1))):
        Circle(CYLINDER376_R)
    extrude(amount=CYLINDER376_DEPTH)


with BuildPart() as v_lec377:
    # Cylinder377 → Cylinder377 (new body)
    with BuildSketch(Plane(origin=(51, 6, 0), x_dir=(1, 0, 0), z_dir=(0, 0, 1))):
        Circle(CYLINDER377_R)
    extrude(amount=CYLINDER377_DEPTH)


with BuildPart() as v_lec378:
    # Cylinder378 → Cylinder378 (new body)
    with BuildSketch(Plane(origin=(-51, 6, 0), x_dir=(1, 0, 0), z_dir=(0, 0, 1))):
        Circle(CYLINDER378_R)
    extrude(amount=CYLINDER378_DEPTH)


with BuildPart() as v_lec379:
    # Cylinder379 → Cylinder379 (new body)
    with BuildSketch(Plane(origin=(51, -12, 0), x_dir=(1, 0, 0), z_dir=(0, 0, 1))):
        Circle(CYLINDER379_R)
    extrude(amount=CYLINDER379_DEPTH)


with BuildPart() as compound308:
    # Cylinder370 → Cylinder370 (new body)
    with BuildSketch(Plane(origin=(-34, 36, 0), x_dir=(1, 0, 0), z_dir=(0, 0, 1))):
        Circle(CYLINDER370_R)
    extrude(amount=CYLINDER370_DEPTH)

    # Compound308: union Válec371, Válec372, Válec373, Válec374, Válec375, Válec376, Válec377, Válec378, Válec379
    add(v_lec371.part)
    add(v_lec372.part)
    add(v_lec373.part)
    add(v_lec374.part)
    add(v_lec375.part)
    add(v_lec376.part)
    add(v_lec377.part)
    add(v_lec378.part)
    add(v_lec379.part)


with BuildPart() as v_lec288:
    # Cylinder288 → Cylinder288 (new body)
    with BuildSketch(Plane(origin=(0, -64.5, 4.5), x_dir=(1, 0, 0), z_dir=(0, 0, 1))):
        Circle(CYLINDER288_R)
    extrude(amount=CYLINDER288_DEPTH)


with BuildPart() as anuloid:
    # Torus → Torus (revolve)
    with BuildSketch(Plane(origin=(0, 0, 24.5), x_dir=(1, 0, 0), z_dir=(0, -1, 0))):
        with Locations((64.2, 0)):
            Circle(TORUS_R)
    revolve(axis=Axis((0, 0, 24.5), (0, 0, 1)))


with BuildPart() as cut177:
    # Tube019 → Tube019 (new body)
    with BuildSketch(Plane.XY.offset(18)):
        Circle(TUBE019_R)
        Circle(TUBE019_R_2, mode=Mode.SUBTRACT)
    extrude(amount=TUBE019_DEPTH)

    # Cut129: cut Anuloid
    add(anuloid.part, mode=Mode.SUBTRACT)

    # Cut130: cut Válec288
    add(v_lec288.part, mode=Mode.SUBTRACT)

    # Cut160: cut Compound308
    add(compound308.part, mode=Mode.SUBTRACT)

    # Cut162: cut Compound313
    add(compound313_1.part, mode=Mode.SUBTRACT)

    # Cut164: cut Compound315
    add(compound315_1.part, mode=Mode.SUBTRACT)

    # Cut321: cut Compound328
    add(compound328_2.part, mode=Mode.SUBTRACT)

    # Cut323: cut Compound322
    add(compound322_1.part, mode=Mode.SUBTRACT)

    # Cut176: cut Compound706
    add(compound706_1.part, mode=Mode.SUBTRACT)

    # Cut177: cut Compound704
    add(compound704.part, mode=Mode.SUBTRACT)


solid = cut177.part
